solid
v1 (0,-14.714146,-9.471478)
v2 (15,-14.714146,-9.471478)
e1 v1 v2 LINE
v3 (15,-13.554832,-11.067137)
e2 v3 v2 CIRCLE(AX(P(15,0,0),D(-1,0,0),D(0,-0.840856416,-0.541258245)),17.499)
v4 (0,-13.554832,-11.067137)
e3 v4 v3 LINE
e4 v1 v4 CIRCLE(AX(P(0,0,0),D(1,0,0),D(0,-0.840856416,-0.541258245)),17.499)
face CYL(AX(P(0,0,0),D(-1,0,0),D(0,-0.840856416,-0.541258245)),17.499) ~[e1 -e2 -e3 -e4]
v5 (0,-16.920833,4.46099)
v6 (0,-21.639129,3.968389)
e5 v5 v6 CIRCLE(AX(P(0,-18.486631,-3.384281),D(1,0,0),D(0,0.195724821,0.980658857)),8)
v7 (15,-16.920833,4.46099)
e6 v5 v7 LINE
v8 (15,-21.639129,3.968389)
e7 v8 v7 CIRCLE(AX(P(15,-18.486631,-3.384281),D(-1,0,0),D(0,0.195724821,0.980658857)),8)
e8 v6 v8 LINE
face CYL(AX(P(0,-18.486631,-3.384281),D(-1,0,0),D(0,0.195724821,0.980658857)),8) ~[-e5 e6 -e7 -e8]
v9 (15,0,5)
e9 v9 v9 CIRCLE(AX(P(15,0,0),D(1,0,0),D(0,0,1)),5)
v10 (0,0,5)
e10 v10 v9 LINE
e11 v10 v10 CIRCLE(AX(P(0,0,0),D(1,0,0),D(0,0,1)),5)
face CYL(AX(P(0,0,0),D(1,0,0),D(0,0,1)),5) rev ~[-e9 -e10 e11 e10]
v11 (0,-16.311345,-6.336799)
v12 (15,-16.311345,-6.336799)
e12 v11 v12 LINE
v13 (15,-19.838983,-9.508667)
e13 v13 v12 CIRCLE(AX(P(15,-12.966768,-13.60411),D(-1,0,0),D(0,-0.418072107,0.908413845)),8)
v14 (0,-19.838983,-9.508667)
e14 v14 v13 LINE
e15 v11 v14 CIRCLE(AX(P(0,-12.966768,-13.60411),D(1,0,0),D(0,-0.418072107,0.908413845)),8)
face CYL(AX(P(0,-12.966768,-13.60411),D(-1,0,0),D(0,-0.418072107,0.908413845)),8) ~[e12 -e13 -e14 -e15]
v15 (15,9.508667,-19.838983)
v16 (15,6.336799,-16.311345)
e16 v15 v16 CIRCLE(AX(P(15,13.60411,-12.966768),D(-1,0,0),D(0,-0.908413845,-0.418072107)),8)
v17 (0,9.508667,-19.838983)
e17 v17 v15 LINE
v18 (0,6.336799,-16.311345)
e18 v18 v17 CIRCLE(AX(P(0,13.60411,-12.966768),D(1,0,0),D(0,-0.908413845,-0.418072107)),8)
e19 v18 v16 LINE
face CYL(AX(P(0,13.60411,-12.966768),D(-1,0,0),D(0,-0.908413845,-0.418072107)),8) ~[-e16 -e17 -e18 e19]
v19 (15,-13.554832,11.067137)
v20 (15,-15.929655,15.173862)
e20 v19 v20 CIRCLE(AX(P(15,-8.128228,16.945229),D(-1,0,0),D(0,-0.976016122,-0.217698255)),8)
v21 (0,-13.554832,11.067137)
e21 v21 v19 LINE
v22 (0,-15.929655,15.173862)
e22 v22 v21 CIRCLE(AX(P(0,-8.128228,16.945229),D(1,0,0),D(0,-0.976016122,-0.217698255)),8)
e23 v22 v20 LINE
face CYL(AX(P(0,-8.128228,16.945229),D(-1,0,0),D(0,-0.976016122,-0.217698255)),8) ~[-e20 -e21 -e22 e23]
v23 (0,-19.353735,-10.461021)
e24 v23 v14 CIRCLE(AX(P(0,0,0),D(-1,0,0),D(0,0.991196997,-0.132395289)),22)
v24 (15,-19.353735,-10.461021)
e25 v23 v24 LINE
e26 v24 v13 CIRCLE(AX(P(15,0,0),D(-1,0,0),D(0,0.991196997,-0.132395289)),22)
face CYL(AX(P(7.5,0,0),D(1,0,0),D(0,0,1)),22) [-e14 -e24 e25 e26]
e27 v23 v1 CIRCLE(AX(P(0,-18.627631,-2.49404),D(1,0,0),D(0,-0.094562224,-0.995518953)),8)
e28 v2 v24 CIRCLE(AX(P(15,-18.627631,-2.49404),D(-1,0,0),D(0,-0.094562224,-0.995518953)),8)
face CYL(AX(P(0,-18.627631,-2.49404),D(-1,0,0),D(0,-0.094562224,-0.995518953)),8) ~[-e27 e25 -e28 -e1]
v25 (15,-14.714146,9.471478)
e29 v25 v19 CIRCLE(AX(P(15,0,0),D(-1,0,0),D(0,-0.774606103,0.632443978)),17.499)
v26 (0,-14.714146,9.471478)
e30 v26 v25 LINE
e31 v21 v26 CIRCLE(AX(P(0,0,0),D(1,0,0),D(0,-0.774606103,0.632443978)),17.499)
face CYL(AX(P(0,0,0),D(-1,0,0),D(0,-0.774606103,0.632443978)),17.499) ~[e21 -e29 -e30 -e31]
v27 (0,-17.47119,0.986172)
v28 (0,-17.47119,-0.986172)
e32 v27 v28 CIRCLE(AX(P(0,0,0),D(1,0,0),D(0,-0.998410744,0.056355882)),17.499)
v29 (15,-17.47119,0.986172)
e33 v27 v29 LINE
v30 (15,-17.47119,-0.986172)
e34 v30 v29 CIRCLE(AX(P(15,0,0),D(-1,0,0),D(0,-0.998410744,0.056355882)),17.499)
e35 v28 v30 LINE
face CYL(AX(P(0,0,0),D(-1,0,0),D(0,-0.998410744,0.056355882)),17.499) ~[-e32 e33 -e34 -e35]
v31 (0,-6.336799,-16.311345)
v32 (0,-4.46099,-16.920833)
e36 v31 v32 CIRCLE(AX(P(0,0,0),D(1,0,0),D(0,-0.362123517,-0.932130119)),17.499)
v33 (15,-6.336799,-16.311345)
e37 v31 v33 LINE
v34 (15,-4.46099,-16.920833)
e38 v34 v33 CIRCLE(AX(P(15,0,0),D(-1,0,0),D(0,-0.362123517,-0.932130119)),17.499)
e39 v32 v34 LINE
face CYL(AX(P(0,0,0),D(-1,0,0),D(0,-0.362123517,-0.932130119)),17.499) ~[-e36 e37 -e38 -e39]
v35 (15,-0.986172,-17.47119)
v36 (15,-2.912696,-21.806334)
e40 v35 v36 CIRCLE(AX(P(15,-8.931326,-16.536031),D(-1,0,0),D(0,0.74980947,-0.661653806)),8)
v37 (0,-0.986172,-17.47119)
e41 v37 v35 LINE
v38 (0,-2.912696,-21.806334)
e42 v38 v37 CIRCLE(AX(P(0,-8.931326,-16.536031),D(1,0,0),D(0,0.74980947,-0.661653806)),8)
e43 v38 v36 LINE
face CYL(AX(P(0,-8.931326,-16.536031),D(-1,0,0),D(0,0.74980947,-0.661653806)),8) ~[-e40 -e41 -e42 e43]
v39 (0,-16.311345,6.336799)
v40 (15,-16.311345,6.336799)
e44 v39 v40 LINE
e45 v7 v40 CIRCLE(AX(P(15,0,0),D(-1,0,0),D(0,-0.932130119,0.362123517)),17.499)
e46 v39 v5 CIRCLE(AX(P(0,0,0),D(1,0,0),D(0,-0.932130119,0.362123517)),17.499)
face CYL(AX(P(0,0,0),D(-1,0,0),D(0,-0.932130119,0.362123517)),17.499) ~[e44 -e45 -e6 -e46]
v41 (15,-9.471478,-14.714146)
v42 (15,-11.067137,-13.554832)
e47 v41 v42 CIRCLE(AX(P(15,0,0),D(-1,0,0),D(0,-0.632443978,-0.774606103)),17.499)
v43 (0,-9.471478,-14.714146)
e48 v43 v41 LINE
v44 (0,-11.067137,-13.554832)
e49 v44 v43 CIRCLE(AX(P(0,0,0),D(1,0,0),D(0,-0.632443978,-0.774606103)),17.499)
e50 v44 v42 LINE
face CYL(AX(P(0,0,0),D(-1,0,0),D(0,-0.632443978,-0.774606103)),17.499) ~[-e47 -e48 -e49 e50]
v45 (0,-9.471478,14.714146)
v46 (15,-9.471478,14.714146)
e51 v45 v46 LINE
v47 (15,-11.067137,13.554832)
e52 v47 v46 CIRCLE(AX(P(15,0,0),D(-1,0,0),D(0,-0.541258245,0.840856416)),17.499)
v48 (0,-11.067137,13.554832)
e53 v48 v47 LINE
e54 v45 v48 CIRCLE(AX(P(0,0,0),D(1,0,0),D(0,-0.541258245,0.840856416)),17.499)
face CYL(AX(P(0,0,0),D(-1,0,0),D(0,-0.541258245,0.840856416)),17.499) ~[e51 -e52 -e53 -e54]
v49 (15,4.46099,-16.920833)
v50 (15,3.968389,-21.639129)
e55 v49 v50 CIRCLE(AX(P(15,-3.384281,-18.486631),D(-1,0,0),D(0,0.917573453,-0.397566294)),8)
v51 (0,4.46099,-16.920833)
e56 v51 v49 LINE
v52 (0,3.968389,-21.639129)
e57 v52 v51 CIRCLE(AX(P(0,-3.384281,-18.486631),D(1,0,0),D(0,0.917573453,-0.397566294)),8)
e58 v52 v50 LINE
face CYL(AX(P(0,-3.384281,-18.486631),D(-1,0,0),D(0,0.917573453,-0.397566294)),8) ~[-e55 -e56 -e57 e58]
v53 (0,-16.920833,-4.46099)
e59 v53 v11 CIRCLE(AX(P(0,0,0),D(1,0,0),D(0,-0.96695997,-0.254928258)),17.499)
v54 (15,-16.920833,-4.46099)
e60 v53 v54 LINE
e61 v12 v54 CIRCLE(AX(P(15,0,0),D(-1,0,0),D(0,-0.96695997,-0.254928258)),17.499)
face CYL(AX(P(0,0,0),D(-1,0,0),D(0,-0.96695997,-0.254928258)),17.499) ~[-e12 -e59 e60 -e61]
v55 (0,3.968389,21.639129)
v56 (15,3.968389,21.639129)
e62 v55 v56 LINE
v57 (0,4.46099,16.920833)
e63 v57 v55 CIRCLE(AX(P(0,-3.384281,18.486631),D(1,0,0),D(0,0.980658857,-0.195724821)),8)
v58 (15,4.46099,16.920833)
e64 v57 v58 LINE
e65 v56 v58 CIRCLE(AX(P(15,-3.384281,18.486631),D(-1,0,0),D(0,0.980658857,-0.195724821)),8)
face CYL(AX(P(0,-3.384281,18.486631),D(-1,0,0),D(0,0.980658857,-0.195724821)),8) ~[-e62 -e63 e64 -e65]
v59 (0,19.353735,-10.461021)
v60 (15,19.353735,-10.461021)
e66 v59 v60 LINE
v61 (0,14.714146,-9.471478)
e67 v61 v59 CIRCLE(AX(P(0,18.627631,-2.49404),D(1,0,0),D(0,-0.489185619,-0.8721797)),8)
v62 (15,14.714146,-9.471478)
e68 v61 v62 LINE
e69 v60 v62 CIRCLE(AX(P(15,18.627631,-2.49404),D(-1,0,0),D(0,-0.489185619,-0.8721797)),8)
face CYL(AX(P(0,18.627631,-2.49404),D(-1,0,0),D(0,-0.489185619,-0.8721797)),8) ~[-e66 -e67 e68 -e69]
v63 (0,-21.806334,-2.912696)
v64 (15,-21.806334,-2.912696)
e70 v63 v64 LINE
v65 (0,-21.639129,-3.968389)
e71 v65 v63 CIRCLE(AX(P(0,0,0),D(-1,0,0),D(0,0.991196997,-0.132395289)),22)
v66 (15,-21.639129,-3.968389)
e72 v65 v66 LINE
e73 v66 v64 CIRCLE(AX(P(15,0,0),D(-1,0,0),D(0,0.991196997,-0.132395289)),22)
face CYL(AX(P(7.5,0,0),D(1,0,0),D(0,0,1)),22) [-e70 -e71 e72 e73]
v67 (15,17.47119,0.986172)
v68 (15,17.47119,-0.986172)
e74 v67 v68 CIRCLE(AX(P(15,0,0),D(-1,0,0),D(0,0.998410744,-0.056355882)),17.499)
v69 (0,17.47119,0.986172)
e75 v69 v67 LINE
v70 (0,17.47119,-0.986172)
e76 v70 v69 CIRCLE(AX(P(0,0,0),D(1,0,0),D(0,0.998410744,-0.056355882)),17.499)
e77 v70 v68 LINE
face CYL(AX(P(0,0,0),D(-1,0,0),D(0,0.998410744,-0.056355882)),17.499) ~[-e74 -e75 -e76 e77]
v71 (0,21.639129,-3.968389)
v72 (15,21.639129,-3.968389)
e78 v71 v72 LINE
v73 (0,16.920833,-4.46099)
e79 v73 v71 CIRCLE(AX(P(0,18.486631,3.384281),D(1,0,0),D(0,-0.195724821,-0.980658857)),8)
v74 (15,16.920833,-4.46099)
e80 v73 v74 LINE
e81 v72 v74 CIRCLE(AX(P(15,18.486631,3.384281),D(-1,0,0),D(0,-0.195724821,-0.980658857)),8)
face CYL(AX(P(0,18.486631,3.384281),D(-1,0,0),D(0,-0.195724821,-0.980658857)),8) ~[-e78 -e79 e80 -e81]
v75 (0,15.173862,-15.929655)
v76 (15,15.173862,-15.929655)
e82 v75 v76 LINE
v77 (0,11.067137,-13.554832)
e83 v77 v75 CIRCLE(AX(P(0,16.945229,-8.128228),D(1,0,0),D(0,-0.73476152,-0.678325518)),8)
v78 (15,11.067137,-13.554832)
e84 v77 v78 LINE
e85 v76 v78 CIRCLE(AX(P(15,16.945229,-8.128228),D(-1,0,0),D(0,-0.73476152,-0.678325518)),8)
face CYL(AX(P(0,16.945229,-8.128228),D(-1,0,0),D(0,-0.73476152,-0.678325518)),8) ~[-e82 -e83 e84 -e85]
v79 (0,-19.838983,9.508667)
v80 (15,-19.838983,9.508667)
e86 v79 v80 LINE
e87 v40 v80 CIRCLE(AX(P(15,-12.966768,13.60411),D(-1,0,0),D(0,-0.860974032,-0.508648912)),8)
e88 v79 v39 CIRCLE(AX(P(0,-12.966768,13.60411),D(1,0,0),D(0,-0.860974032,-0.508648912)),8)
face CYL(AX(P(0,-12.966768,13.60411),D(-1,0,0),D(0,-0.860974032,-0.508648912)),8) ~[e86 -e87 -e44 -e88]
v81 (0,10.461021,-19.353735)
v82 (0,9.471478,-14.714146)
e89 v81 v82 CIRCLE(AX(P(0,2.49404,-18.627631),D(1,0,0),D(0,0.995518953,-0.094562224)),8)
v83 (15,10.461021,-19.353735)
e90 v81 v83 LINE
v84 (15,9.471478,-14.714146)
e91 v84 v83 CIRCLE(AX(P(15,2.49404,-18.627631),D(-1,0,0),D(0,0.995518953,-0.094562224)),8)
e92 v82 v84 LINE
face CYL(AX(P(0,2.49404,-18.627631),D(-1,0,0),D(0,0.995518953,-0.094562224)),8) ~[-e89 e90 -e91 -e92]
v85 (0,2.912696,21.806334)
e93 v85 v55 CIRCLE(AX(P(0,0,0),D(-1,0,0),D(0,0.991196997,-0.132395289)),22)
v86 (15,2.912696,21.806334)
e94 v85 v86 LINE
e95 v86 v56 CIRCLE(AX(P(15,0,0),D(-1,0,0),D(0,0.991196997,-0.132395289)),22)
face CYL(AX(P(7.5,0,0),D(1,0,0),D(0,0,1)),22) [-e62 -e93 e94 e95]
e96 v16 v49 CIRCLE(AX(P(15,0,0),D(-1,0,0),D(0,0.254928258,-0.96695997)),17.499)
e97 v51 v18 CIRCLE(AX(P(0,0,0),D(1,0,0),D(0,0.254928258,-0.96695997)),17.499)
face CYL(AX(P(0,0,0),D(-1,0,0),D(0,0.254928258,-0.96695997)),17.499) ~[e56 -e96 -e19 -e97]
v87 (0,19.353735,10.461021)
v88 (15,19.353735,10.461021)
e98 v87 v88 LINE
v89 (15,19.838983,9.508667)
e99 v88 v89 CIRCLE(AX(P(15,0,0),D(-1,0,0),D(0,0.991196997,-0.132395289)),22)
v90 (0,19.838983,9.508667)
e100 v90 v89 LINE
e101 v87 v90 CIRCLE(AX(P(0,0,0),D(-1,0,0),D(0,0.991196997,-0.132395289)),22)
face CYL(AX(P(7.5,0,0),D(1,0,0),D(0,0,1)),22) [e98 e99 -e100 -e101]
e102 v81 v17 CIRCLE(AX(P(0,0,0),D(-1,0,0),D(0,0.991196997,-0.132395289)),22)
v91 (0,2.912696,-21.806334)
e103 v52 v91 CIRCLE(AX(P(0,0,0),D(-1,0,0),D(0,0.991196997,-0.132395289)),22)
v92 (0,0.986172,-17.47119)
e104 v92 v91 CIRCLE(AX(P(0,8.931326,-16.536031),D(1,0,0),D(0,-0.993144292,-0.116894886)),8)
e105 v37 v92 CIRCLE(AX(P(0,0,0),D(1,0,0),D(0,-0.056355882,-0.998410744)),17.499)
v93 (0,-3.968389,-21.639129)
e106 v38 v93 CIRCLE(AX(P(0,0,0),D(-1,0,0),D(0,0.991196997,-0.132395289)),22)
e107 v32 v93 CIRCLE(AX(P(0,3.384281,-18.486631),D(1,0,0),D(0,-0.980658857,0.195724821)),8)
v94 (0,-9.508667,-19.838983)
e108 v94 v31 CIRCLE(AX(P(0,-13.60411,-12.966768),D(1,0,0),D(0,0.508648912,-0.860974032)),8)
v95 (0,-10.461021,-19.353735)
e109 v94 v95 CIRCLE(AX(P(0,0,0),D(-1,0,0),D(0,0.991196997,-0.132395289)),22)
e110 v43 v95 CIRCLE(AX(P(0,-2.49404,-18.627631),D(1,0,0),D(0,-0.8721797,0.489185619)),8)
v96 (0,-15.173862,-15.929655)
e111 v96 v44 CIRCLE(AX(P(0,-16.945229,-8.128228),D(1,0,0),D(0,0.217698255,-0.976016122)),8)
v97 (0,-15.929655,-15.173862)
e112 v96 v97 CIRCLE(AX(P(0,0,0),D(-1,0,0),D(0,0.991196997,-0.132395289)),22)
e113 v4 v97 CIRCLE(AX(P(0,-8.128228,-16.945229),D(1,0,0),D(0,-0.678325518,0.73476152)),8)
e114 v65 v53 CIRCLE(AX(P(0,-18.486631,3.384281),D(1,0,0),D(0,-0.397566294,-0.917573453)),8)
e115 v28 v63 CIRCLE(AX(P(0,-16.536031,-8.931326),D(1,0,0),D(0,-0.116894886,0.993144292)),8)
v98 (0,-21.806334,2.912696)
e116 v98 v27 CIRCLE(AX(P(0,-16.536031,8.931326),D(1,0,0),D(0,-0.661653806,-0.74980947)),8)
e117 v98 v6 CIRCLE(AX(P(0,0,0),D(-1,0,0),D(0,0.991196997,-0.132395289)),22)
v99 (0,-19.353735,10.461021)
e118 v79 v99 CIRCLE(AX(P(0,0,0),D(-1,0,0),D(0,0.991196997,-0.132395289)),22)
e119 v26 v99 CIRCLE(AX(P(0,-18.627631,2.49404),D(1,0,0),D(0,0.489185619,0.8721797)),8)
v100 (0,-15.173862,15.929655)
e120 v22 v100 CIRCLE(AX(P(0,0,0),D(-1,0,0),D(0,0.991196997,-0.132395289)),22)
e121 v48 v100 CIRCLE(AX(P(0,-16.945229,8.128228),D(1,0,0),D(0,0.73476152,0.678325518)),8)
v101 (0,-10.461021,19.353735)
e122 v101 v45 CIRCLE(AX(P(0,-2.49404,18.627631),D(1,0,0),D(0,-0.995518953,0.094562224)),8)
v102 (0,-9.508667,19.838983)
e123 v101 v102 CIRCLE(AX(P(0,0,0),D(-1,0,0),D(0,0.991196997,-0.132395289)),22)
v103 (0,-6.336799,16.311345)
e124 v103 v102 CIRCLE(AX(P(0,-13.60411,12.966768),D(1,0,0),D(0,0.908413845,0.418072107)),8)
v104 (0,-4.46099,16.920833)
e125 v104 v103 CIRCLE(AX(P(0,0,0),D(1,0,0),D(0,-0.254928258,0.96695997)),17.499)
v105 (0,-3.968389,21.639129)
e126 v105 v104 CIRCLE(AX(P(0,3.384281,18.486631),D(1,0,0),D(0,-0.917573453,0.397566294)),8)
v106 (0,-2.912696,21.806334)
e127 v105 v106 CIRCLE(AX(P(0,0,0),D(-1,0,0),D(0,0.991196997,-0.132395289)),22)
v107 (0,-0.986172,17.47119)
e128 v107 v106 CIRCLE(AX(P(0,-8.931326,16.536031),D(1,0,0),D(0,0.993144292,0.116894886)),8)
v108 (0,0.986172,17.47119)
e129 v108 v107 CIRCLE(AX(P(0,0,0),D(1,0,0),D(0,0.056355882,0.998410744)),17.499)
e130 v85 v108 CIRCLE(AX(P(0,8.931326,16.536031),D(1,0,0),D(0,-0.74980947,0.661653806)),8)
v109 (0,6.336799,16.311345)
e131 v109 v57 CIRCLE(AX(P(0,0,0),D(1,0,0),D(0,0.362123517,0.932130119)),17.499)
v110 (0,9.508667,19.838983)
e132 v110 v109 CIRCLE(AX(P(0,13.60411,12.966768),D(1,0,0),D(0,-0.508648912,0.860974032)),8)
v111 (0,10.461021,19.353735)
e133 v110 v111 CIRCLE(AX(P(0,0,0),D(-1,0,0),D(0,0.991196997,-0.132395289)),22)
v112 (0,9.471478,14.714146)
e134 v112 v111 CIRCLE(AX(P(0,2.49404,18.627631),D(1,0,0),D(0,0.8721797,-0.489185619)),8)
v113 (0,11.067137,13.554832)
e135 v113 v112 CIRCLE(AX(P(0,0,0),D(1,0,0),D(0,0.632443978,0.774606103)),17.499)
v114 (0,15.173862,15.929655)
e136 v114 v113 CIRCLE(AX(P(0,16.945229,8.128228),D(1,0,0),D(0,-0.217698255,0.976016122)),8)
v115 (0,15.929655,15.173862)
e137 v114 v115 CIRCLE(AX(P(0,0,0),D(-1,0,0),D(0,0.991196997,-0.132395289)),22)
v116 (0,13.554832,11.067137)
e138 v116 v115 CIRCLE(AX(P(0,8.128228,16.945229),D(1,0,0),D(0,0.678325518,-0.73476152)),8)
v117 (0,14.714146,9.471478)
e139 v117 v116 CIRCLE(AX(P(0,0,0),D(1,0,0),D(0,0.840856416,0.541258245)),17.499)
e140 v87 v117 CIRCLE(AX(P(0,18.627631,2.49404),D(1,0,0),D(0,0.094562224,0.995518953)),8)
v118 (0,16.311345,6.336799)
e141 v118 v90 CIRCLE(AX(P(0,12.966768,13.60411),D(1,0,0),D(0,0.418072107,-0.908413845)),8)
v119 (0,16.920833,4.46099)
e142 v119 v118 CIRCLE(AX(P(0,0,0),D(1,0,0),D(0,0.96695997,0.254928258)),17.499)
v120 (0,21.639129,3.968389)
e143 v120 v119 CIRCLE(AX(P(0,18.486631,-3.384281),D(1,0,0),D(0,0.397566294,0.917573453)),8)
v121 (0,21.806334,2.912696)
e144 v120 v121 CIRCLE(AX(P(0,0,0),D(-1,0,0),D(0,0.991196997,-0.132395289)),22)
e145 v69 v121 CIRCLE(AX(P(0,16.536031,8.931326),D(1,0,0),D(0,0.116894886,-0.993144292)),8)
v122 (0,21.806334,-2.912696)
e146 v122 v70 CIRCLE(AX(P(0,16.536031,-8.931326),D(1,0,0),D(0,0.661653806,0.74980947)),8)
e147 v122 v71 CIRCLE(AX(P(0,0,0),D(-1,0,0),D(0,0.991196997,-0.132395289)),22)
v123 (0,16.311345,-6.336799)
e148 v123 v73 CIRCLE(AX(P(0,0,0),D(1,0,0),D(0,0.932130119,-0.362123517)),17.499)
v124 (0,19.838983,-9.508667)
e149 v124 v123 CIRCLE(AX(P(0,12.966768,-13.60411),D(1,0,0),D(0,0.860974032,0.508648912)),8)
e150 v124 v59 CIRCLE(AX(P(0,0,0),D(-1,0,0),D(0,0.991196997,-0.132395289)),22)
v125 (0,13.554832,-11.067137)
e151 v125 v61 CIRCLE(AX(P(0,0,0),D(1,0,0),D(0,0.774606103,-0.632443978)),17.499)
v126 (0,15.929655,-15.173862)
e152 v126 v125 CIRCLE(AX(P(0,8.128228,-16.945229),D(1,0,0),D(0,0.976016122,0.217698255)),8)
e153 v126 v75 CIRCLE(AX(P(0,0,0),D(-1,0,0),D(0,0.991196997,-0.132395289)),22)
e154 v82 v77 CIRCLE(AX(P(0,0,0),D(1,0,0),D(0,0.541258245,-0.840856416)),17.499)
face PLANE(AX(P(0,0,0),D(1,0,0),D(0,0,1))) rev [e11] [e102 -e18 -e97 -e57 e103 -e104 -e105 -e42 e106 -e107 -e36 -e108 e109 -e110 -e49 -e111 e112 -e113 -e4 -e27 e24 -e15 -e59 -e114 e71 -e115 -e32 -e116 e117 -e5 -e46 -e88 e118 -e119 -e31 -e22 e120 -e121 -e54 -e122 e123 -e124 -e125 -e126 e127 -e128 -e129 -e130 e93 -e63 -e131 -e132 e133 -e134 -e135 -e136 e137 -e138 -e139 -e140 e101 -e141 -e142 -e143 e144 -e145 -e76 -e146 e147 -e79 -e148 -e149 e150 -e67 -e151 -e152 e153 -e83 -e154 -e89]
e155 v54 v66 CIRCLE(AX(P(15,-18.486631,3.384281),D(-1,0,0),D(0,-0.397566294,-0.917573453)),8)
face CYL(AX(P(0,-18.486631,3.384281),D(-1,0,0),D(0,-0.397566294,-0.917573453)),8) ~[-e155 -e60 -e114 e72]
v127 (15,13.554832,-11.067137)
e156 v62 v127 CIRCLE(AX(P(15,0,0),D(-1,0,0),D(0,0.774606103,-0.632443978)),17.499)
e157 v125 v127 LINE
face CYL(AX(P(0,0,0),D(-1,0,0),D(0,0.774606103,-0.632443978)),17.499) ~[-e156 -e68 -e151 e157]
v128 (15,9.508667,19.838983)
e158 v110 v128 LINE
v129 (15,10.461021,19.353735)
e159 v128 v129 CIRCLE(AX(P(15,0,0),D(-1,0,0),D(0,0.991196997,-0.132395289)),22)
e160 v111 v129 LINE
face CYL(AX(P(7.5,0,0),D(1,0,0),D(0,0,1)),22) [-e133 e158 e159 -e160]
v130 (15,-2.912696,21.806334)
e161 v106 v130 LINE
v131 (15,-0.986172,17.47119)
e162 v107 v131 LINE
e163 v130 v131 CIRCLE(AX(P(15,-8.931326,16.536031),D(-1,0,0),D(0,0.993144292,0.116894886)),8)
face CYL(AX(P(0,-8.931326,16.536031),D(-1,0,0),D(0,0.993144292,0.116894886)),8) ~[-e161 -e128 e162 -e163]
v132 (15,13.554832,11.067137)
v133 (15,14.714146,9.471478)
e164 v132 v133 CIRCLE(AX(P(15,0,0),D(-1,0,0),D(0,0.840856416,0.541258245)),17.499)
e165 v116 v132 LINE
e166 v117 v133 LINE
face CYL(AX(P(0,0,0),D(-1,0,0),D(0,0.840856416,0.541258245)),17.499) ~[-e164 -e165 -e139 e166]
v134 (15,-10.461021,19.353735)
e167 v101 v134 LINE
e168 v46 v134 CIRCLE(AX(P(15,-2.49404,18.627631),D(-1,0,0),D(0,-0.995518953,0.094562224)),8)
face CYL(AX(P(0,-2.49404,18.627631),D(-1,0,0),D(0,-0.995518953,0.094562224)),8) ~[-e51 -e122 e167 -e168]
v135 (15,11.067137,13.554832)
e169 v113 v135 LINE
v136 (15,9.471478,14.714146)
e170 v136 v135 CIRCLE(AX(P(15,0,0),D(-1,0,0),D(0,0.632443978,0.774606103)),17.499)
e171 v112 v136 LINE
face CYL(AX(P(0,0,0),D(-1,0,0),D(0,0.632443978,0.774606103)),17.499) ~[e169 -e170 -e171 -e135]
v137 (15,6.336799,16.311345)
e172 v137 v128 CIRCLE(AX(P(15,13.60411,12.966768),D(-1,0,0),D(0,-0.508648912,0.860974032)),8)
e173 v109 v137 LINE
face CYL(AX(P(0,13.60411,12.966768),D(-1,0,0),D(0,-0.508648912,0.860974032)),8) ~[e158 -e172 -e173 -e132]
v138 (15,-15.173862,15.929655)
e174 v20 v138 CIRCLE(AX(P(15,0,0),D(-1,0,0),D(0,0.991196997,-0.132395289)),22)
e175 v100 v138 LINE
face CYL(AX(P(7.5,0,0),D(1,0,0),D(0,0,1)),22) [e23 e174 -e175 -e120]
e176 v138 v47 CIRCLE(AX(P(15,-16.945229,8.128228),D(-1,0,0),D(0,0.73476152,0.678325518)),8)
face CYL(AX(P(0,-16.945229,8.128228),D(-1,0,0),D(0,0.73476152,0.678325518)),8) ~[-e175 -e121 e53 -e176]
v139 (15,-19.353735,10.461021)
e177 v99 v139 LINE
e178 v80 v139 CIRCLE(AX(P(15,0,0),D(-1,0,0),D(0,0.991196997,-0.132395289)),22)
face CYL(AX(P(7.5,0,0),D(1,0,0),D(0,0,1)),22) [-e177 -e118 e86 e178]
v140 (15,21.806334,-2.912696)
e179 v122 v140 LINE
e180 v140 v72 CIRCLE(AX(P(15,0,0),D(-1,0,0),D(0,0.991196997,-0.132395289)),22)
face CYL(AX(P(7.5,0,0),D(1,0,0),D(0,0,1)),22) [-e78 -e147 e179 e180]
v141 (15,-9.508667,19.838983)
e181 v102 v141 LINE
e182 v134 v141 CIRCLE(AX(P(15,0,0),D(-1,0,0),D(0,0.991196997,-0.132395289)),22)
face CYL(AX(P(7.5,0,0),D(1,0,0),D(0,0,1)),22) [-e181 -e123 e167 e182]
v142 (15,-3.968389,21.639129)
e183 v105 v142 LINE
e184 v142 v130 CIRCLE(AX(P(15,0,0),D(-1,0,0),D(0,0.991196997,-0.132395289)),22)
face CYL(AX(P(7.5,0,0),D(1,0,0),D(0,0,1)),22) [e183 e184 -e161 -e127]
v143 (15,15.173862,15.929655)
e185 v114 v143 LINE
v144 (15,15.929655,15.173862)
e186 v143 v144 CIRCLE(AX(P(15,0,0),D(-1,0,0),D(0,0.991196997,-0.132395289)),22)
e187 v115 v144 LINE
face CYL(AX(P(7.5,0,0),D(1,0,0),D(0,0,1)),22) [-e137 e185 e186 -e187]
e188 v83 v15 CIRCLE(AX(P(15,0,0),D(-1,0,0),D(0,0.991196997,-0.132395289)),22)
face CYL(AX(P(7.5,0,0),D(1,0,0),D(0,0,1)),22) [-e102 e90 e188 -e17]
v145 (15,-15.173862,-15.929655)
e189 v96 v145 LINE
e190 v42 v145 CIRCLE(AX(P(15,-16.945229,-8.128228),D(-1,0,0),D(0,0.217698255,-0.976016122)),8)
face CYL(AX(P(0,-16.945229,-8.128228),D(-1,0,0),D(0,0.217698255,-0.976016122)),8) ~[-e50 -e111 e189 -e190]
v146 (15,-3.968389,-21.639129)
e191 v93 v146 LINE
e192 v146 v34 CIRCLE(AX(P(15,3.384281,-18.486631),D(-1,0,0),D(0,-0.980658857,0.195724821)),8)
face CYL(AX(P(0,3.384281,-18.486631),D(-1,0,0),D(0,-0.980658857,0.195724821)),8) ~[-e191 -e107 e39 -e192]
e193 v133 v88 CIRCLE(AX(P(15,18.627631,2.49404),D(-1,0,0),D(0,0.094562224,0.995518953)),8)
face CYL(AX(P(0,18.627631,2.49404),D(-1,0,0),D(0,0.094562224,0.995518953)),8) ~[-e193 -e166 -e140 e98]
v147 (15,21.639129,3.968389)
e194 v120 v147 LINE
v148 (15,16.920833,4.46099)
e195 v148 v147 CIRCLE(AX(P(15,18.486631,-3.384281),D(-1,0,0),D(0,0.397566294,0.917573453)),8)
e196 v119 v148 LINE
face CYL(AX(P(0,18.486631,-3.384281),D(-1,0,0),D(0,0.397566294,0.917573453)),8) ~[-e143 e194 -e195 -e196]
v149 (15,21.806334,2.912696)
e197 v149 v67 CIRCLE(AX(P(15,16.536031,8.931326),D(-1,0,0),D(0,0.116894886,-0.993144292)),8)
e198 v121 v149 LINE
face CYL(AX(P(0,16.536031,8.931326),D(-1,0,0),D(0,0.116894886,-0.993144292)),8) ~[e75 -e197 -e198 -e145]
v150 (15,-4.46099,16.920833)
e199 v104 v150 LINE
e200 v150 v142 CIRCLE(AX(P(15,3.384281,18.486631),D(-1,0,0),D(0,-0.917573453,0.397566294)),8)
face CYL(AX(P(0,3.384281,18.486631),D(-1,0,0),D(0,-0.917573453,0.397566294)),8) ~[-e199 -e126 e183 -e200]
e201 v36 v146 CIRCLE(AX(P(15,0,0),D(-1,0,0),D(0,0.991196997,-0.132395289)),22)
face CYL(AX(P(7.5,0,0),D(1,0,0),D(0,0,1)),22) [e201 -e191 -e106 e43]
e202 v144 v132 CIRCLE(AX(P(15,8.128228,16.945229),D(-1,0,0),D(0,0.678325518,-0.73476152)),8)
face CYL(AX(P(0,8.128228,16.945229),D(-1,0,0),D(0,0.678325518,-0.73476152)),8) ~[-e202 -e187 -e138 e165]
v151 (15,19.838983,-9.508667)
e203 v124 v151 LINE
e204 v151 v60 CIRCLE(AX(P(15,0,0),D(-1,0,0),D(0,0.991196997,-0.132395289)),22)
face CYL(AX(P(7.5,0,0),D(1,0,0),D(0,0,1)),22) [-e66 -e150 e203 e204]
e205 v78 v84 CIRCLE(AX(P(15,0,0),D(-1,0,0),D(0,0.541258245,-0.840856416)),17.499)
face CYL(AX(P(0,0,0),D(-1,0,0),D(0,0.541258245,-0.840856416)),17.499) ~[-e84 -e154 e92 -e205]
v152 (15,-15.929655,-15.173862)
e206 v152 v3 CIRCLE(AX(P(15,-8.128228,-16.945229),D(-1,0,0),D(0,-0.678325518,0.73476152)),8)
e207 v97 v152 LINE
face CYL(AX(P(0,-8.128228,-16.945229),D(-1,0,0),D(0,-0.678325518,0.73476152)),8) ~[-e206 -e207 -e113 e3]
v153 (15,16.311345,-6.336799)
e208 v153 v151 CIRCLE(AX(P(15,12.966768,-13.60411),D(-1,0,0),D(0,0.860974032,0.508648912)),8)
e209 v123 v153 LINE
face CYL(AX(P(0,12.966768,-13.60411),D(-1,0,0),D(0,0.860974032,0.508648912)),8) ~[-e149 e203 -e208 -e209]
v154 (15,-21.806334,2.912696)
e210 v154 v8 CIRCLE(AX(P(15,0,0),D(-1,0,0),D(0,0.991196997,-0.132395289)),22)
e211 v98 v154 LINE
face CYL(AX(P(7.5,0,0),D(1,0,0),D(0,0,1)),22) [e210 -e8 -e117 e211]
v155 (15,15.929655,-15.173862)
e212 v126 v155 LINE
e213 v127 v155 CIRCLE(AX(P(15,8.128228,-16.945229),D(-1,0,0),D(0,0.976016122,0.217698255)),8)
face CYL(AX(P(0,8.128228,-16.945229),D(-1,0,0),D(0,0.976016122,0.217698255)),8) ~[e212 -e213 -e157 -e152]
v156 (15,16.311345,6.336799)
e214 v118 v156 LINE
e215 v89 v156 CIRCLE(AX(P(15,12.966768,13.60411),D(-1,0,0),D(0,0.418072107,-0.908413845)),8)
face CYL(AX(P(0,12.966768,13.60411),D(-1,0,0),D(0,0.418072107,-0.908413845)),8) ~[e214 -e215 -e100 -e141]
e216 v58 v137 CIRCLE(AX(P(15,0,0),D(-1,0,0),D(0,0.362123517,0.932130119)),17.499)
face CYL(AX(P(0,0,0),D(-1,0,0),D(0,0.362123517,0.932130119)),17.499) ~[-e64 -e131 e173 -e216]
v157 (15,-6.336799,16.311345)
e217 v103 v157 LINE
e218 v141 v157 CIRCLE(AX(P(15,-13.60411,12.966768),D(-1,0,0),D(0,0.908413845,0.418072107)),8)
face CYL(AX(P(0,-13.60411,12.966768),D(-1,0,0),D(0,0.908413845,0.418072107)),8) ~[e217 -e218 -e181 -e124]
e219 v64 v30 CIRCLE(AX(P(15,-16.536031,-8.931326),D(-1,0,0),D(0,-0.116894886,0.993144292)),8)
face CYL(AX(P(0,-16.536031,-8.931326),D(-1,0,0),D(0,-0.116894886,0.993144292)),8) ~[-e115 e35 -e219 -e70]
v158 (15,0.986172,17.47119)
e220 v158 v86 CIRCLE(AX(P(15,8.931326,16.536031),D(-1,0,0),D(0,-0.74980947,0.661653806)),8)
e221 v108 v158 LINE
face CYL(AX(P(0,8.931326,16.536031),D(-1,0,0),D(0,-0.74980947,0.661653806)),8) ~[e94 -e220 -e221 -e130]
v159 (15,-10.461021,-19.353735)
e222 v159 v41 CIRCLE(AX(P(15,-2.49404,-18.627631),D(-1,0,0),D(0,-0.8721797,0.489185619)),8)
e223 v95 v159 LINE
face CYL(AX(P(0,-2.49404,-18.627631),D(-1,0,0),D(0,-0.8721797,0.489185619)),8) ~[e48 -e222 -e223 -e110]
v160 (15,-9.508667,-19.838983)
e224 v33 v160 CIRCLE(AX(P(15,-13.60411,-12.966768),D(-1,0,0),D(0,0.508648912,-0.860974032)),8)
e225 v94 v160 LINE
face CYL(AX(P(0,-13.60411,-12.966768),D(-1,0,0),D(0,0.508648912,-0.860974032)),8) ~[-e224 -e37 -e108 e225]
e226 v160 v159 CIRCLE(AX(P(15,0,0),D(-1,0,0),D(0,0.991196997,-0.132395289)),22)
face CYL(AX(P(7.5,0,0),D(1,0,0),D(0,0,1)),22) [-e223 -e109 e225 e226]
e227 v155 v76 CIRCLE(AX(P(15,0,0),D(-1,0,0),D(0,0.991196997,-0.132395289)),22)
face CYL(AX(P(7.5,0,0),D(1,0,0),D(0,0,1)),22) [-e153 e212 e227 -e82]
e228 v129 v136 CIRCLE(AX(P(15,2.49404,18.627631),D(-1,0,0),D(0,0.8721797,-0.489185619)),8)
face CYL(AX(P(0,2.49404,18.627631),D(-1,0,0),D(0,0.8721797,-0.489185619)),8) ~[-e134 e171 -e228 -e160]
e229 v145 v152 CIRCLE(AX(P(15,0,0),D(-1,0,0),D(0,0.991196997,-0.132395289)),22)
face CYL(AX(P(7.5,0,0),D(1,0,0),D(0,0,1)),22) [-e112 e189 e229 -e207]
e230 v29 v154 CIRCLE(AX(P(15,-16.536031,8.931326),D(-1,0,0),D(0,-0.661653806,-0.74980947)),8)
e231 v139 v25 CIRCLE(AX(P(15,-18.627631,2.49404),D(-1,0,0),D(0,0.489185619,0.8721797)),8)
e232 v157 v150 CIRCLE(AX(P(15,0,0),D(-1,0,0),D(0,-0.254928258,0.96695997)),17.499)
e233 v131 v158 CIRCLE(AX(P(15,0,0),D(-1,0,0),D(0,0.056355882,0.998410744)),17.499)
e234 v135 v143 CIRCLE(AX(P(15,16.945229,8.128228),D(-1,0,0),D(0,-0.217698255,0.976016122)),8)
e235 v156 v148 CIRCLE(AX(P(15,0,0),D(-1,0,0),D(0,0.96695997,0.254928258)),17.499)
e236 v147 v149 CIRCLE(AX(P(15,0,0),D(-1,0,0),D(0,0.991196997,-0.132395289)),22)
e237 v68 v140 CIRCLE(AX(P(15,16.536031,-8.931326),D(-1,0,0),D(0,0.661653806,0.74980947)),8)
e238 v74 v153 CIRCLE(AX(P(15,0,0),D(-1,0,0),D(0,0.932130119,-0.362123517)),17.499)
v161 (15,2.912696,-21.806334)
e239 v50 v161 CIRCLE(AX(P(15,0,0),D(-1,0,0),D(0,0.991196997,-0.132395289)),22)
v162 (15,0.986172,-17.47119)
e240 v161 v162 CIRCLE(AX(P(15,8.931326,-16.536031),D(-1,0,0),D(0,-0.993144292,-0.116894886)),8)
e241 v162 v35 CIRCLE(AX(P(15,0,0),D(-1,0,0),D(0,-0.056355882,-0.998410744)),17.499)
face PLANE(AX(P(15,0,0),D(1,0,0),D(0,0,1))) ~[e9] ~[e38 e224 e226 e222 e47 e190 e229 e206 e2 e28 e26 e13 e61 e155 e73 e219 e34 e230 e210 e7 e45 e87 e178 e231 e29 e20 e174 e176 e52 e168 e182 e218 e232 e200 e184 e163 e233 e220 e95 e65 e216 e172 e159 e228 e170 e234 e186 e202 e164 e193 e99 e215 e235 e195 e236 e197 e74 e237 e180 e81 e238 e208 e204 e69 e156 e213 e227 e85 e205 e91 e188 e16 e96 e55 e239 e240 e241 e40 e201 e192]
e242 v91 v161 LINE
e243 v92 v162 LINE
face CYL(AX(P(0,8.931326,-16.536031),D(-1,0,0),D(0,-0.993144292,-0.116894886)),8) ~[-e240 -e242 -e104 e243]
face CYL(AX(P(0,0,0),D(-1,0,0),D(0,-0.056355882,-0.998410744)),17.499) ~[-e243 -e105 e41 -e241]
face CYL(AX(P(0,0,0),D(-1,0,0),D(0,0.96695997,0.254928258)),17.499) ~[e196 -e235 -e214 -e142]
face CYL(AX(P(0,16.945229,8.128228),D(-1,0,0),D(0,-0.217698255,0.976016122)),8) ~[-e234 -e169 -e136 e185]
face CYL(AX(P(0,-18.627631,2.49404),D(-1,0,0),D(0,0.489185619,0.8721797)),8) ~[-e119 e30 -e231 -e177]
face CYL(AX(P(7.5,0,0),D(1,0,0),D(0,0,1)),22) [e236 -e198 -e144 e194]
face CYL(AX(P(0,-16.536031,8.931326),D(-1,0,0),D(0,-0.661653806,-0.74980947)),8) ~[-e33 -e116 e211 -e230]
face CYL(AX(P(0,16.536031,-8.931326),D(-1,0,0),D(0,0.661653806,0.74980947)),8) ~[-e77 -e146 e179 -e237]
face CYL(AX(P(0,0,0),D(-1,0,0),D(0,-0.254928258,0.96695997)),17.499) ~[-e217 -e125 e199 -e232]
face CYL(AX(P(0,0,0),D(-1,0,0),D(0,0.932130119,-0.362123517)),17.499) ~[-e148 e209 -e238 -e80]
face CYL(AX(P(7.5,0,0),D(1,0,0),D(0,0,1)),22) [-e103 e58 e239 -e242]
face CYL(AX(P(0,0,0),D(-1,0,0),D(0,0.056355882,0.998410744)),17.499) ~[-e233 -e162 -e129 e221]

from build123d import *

# Parameters (mm, degrees)
BASPROSKE_W     = 15
BASPROSKE_H     = 22
TOOTHCUT_DEPTH  = 35.539832078
TEETHCUTS_COUNT = 20
TEETHCUTS_ANGLE = 342
BORSKE_R        = 5
BORE_DEPTH      = 50.0000508


with BuildPart() as part:
    # BasProSke → Base-Revolve (revolve)
    with BuildSketch(Plane(origin=(0, 0, 0), x_dir=(1, 0, 0), z_dir=(0, 1, 0)), mode=Mode.PRIVATE) as base_revolve_sk:
        with Locations((7.5, 11)):
            Rectangle(BASPROSKE_W, BASPROSKE_H)
    revolve(base_revolve_sk.sketch.rotate(Axis((-10, 0, 0), (1, 0, 0)), 180), axis=Axis((-10, 0, 0), (1, 0, 0)))

    # TooCutSke → ToothCut (cut, through all)
    with BuildSketch(Plane(origin=(0, 0, 0), x_dir=(0, 0, -1), z_dir=(1, 0, 0))):
        with BuildLine():
            ThreePointArc((0.986171591, 17.471189616), (0, 17.499), (-0.986171591, 17.471189616))
            ThreePointArc((-0.986171591, 17.471189616), (-1.626916196, 19.798789858), (-2.932850173, 21.829260982))
            ThreePointArc((-2.932850173, 21.829260982), (0, 22.0254), (2.932850173, 21.829260982))
            ThreePointArc((2.932850173, 21.829260982), (1.626916196, 19.798789858), (0.986171591, 17.471189616))
        make_face()
    toothcut = extrude(amount=TOOTHCUT_DEPTH, mode=Mode.SUBTRACT)

    # TeethCuts: ToothCut ×20 about axis
    teethcuts_axis = Axis((-10, 0, 0), (1, 0, 0))
    for i in range(1, TEETHCUTS_COUNT):
        add(toothcut.rotate(teethcuts_axis, i * TEETHCUTS_ANGLE / (TEETHCUTS_COUNT - 1)), mode=Mode.SUBTRACT)

    # BorSke → Bore (cut, symmetric)
    with BuildSketch(Plane(origin=(0, 0, 0), x_dir=(0, 0, -1), z_dir=(1, 0, 0))):
        with Locations(Location((0, 0, 0), (0, 0, 180))):
            Circle(BORSKE_R)
    extrude(amount=BORE_DEPTH, both=True, mode=Mode.SUBTRACT)


solid = part.part
